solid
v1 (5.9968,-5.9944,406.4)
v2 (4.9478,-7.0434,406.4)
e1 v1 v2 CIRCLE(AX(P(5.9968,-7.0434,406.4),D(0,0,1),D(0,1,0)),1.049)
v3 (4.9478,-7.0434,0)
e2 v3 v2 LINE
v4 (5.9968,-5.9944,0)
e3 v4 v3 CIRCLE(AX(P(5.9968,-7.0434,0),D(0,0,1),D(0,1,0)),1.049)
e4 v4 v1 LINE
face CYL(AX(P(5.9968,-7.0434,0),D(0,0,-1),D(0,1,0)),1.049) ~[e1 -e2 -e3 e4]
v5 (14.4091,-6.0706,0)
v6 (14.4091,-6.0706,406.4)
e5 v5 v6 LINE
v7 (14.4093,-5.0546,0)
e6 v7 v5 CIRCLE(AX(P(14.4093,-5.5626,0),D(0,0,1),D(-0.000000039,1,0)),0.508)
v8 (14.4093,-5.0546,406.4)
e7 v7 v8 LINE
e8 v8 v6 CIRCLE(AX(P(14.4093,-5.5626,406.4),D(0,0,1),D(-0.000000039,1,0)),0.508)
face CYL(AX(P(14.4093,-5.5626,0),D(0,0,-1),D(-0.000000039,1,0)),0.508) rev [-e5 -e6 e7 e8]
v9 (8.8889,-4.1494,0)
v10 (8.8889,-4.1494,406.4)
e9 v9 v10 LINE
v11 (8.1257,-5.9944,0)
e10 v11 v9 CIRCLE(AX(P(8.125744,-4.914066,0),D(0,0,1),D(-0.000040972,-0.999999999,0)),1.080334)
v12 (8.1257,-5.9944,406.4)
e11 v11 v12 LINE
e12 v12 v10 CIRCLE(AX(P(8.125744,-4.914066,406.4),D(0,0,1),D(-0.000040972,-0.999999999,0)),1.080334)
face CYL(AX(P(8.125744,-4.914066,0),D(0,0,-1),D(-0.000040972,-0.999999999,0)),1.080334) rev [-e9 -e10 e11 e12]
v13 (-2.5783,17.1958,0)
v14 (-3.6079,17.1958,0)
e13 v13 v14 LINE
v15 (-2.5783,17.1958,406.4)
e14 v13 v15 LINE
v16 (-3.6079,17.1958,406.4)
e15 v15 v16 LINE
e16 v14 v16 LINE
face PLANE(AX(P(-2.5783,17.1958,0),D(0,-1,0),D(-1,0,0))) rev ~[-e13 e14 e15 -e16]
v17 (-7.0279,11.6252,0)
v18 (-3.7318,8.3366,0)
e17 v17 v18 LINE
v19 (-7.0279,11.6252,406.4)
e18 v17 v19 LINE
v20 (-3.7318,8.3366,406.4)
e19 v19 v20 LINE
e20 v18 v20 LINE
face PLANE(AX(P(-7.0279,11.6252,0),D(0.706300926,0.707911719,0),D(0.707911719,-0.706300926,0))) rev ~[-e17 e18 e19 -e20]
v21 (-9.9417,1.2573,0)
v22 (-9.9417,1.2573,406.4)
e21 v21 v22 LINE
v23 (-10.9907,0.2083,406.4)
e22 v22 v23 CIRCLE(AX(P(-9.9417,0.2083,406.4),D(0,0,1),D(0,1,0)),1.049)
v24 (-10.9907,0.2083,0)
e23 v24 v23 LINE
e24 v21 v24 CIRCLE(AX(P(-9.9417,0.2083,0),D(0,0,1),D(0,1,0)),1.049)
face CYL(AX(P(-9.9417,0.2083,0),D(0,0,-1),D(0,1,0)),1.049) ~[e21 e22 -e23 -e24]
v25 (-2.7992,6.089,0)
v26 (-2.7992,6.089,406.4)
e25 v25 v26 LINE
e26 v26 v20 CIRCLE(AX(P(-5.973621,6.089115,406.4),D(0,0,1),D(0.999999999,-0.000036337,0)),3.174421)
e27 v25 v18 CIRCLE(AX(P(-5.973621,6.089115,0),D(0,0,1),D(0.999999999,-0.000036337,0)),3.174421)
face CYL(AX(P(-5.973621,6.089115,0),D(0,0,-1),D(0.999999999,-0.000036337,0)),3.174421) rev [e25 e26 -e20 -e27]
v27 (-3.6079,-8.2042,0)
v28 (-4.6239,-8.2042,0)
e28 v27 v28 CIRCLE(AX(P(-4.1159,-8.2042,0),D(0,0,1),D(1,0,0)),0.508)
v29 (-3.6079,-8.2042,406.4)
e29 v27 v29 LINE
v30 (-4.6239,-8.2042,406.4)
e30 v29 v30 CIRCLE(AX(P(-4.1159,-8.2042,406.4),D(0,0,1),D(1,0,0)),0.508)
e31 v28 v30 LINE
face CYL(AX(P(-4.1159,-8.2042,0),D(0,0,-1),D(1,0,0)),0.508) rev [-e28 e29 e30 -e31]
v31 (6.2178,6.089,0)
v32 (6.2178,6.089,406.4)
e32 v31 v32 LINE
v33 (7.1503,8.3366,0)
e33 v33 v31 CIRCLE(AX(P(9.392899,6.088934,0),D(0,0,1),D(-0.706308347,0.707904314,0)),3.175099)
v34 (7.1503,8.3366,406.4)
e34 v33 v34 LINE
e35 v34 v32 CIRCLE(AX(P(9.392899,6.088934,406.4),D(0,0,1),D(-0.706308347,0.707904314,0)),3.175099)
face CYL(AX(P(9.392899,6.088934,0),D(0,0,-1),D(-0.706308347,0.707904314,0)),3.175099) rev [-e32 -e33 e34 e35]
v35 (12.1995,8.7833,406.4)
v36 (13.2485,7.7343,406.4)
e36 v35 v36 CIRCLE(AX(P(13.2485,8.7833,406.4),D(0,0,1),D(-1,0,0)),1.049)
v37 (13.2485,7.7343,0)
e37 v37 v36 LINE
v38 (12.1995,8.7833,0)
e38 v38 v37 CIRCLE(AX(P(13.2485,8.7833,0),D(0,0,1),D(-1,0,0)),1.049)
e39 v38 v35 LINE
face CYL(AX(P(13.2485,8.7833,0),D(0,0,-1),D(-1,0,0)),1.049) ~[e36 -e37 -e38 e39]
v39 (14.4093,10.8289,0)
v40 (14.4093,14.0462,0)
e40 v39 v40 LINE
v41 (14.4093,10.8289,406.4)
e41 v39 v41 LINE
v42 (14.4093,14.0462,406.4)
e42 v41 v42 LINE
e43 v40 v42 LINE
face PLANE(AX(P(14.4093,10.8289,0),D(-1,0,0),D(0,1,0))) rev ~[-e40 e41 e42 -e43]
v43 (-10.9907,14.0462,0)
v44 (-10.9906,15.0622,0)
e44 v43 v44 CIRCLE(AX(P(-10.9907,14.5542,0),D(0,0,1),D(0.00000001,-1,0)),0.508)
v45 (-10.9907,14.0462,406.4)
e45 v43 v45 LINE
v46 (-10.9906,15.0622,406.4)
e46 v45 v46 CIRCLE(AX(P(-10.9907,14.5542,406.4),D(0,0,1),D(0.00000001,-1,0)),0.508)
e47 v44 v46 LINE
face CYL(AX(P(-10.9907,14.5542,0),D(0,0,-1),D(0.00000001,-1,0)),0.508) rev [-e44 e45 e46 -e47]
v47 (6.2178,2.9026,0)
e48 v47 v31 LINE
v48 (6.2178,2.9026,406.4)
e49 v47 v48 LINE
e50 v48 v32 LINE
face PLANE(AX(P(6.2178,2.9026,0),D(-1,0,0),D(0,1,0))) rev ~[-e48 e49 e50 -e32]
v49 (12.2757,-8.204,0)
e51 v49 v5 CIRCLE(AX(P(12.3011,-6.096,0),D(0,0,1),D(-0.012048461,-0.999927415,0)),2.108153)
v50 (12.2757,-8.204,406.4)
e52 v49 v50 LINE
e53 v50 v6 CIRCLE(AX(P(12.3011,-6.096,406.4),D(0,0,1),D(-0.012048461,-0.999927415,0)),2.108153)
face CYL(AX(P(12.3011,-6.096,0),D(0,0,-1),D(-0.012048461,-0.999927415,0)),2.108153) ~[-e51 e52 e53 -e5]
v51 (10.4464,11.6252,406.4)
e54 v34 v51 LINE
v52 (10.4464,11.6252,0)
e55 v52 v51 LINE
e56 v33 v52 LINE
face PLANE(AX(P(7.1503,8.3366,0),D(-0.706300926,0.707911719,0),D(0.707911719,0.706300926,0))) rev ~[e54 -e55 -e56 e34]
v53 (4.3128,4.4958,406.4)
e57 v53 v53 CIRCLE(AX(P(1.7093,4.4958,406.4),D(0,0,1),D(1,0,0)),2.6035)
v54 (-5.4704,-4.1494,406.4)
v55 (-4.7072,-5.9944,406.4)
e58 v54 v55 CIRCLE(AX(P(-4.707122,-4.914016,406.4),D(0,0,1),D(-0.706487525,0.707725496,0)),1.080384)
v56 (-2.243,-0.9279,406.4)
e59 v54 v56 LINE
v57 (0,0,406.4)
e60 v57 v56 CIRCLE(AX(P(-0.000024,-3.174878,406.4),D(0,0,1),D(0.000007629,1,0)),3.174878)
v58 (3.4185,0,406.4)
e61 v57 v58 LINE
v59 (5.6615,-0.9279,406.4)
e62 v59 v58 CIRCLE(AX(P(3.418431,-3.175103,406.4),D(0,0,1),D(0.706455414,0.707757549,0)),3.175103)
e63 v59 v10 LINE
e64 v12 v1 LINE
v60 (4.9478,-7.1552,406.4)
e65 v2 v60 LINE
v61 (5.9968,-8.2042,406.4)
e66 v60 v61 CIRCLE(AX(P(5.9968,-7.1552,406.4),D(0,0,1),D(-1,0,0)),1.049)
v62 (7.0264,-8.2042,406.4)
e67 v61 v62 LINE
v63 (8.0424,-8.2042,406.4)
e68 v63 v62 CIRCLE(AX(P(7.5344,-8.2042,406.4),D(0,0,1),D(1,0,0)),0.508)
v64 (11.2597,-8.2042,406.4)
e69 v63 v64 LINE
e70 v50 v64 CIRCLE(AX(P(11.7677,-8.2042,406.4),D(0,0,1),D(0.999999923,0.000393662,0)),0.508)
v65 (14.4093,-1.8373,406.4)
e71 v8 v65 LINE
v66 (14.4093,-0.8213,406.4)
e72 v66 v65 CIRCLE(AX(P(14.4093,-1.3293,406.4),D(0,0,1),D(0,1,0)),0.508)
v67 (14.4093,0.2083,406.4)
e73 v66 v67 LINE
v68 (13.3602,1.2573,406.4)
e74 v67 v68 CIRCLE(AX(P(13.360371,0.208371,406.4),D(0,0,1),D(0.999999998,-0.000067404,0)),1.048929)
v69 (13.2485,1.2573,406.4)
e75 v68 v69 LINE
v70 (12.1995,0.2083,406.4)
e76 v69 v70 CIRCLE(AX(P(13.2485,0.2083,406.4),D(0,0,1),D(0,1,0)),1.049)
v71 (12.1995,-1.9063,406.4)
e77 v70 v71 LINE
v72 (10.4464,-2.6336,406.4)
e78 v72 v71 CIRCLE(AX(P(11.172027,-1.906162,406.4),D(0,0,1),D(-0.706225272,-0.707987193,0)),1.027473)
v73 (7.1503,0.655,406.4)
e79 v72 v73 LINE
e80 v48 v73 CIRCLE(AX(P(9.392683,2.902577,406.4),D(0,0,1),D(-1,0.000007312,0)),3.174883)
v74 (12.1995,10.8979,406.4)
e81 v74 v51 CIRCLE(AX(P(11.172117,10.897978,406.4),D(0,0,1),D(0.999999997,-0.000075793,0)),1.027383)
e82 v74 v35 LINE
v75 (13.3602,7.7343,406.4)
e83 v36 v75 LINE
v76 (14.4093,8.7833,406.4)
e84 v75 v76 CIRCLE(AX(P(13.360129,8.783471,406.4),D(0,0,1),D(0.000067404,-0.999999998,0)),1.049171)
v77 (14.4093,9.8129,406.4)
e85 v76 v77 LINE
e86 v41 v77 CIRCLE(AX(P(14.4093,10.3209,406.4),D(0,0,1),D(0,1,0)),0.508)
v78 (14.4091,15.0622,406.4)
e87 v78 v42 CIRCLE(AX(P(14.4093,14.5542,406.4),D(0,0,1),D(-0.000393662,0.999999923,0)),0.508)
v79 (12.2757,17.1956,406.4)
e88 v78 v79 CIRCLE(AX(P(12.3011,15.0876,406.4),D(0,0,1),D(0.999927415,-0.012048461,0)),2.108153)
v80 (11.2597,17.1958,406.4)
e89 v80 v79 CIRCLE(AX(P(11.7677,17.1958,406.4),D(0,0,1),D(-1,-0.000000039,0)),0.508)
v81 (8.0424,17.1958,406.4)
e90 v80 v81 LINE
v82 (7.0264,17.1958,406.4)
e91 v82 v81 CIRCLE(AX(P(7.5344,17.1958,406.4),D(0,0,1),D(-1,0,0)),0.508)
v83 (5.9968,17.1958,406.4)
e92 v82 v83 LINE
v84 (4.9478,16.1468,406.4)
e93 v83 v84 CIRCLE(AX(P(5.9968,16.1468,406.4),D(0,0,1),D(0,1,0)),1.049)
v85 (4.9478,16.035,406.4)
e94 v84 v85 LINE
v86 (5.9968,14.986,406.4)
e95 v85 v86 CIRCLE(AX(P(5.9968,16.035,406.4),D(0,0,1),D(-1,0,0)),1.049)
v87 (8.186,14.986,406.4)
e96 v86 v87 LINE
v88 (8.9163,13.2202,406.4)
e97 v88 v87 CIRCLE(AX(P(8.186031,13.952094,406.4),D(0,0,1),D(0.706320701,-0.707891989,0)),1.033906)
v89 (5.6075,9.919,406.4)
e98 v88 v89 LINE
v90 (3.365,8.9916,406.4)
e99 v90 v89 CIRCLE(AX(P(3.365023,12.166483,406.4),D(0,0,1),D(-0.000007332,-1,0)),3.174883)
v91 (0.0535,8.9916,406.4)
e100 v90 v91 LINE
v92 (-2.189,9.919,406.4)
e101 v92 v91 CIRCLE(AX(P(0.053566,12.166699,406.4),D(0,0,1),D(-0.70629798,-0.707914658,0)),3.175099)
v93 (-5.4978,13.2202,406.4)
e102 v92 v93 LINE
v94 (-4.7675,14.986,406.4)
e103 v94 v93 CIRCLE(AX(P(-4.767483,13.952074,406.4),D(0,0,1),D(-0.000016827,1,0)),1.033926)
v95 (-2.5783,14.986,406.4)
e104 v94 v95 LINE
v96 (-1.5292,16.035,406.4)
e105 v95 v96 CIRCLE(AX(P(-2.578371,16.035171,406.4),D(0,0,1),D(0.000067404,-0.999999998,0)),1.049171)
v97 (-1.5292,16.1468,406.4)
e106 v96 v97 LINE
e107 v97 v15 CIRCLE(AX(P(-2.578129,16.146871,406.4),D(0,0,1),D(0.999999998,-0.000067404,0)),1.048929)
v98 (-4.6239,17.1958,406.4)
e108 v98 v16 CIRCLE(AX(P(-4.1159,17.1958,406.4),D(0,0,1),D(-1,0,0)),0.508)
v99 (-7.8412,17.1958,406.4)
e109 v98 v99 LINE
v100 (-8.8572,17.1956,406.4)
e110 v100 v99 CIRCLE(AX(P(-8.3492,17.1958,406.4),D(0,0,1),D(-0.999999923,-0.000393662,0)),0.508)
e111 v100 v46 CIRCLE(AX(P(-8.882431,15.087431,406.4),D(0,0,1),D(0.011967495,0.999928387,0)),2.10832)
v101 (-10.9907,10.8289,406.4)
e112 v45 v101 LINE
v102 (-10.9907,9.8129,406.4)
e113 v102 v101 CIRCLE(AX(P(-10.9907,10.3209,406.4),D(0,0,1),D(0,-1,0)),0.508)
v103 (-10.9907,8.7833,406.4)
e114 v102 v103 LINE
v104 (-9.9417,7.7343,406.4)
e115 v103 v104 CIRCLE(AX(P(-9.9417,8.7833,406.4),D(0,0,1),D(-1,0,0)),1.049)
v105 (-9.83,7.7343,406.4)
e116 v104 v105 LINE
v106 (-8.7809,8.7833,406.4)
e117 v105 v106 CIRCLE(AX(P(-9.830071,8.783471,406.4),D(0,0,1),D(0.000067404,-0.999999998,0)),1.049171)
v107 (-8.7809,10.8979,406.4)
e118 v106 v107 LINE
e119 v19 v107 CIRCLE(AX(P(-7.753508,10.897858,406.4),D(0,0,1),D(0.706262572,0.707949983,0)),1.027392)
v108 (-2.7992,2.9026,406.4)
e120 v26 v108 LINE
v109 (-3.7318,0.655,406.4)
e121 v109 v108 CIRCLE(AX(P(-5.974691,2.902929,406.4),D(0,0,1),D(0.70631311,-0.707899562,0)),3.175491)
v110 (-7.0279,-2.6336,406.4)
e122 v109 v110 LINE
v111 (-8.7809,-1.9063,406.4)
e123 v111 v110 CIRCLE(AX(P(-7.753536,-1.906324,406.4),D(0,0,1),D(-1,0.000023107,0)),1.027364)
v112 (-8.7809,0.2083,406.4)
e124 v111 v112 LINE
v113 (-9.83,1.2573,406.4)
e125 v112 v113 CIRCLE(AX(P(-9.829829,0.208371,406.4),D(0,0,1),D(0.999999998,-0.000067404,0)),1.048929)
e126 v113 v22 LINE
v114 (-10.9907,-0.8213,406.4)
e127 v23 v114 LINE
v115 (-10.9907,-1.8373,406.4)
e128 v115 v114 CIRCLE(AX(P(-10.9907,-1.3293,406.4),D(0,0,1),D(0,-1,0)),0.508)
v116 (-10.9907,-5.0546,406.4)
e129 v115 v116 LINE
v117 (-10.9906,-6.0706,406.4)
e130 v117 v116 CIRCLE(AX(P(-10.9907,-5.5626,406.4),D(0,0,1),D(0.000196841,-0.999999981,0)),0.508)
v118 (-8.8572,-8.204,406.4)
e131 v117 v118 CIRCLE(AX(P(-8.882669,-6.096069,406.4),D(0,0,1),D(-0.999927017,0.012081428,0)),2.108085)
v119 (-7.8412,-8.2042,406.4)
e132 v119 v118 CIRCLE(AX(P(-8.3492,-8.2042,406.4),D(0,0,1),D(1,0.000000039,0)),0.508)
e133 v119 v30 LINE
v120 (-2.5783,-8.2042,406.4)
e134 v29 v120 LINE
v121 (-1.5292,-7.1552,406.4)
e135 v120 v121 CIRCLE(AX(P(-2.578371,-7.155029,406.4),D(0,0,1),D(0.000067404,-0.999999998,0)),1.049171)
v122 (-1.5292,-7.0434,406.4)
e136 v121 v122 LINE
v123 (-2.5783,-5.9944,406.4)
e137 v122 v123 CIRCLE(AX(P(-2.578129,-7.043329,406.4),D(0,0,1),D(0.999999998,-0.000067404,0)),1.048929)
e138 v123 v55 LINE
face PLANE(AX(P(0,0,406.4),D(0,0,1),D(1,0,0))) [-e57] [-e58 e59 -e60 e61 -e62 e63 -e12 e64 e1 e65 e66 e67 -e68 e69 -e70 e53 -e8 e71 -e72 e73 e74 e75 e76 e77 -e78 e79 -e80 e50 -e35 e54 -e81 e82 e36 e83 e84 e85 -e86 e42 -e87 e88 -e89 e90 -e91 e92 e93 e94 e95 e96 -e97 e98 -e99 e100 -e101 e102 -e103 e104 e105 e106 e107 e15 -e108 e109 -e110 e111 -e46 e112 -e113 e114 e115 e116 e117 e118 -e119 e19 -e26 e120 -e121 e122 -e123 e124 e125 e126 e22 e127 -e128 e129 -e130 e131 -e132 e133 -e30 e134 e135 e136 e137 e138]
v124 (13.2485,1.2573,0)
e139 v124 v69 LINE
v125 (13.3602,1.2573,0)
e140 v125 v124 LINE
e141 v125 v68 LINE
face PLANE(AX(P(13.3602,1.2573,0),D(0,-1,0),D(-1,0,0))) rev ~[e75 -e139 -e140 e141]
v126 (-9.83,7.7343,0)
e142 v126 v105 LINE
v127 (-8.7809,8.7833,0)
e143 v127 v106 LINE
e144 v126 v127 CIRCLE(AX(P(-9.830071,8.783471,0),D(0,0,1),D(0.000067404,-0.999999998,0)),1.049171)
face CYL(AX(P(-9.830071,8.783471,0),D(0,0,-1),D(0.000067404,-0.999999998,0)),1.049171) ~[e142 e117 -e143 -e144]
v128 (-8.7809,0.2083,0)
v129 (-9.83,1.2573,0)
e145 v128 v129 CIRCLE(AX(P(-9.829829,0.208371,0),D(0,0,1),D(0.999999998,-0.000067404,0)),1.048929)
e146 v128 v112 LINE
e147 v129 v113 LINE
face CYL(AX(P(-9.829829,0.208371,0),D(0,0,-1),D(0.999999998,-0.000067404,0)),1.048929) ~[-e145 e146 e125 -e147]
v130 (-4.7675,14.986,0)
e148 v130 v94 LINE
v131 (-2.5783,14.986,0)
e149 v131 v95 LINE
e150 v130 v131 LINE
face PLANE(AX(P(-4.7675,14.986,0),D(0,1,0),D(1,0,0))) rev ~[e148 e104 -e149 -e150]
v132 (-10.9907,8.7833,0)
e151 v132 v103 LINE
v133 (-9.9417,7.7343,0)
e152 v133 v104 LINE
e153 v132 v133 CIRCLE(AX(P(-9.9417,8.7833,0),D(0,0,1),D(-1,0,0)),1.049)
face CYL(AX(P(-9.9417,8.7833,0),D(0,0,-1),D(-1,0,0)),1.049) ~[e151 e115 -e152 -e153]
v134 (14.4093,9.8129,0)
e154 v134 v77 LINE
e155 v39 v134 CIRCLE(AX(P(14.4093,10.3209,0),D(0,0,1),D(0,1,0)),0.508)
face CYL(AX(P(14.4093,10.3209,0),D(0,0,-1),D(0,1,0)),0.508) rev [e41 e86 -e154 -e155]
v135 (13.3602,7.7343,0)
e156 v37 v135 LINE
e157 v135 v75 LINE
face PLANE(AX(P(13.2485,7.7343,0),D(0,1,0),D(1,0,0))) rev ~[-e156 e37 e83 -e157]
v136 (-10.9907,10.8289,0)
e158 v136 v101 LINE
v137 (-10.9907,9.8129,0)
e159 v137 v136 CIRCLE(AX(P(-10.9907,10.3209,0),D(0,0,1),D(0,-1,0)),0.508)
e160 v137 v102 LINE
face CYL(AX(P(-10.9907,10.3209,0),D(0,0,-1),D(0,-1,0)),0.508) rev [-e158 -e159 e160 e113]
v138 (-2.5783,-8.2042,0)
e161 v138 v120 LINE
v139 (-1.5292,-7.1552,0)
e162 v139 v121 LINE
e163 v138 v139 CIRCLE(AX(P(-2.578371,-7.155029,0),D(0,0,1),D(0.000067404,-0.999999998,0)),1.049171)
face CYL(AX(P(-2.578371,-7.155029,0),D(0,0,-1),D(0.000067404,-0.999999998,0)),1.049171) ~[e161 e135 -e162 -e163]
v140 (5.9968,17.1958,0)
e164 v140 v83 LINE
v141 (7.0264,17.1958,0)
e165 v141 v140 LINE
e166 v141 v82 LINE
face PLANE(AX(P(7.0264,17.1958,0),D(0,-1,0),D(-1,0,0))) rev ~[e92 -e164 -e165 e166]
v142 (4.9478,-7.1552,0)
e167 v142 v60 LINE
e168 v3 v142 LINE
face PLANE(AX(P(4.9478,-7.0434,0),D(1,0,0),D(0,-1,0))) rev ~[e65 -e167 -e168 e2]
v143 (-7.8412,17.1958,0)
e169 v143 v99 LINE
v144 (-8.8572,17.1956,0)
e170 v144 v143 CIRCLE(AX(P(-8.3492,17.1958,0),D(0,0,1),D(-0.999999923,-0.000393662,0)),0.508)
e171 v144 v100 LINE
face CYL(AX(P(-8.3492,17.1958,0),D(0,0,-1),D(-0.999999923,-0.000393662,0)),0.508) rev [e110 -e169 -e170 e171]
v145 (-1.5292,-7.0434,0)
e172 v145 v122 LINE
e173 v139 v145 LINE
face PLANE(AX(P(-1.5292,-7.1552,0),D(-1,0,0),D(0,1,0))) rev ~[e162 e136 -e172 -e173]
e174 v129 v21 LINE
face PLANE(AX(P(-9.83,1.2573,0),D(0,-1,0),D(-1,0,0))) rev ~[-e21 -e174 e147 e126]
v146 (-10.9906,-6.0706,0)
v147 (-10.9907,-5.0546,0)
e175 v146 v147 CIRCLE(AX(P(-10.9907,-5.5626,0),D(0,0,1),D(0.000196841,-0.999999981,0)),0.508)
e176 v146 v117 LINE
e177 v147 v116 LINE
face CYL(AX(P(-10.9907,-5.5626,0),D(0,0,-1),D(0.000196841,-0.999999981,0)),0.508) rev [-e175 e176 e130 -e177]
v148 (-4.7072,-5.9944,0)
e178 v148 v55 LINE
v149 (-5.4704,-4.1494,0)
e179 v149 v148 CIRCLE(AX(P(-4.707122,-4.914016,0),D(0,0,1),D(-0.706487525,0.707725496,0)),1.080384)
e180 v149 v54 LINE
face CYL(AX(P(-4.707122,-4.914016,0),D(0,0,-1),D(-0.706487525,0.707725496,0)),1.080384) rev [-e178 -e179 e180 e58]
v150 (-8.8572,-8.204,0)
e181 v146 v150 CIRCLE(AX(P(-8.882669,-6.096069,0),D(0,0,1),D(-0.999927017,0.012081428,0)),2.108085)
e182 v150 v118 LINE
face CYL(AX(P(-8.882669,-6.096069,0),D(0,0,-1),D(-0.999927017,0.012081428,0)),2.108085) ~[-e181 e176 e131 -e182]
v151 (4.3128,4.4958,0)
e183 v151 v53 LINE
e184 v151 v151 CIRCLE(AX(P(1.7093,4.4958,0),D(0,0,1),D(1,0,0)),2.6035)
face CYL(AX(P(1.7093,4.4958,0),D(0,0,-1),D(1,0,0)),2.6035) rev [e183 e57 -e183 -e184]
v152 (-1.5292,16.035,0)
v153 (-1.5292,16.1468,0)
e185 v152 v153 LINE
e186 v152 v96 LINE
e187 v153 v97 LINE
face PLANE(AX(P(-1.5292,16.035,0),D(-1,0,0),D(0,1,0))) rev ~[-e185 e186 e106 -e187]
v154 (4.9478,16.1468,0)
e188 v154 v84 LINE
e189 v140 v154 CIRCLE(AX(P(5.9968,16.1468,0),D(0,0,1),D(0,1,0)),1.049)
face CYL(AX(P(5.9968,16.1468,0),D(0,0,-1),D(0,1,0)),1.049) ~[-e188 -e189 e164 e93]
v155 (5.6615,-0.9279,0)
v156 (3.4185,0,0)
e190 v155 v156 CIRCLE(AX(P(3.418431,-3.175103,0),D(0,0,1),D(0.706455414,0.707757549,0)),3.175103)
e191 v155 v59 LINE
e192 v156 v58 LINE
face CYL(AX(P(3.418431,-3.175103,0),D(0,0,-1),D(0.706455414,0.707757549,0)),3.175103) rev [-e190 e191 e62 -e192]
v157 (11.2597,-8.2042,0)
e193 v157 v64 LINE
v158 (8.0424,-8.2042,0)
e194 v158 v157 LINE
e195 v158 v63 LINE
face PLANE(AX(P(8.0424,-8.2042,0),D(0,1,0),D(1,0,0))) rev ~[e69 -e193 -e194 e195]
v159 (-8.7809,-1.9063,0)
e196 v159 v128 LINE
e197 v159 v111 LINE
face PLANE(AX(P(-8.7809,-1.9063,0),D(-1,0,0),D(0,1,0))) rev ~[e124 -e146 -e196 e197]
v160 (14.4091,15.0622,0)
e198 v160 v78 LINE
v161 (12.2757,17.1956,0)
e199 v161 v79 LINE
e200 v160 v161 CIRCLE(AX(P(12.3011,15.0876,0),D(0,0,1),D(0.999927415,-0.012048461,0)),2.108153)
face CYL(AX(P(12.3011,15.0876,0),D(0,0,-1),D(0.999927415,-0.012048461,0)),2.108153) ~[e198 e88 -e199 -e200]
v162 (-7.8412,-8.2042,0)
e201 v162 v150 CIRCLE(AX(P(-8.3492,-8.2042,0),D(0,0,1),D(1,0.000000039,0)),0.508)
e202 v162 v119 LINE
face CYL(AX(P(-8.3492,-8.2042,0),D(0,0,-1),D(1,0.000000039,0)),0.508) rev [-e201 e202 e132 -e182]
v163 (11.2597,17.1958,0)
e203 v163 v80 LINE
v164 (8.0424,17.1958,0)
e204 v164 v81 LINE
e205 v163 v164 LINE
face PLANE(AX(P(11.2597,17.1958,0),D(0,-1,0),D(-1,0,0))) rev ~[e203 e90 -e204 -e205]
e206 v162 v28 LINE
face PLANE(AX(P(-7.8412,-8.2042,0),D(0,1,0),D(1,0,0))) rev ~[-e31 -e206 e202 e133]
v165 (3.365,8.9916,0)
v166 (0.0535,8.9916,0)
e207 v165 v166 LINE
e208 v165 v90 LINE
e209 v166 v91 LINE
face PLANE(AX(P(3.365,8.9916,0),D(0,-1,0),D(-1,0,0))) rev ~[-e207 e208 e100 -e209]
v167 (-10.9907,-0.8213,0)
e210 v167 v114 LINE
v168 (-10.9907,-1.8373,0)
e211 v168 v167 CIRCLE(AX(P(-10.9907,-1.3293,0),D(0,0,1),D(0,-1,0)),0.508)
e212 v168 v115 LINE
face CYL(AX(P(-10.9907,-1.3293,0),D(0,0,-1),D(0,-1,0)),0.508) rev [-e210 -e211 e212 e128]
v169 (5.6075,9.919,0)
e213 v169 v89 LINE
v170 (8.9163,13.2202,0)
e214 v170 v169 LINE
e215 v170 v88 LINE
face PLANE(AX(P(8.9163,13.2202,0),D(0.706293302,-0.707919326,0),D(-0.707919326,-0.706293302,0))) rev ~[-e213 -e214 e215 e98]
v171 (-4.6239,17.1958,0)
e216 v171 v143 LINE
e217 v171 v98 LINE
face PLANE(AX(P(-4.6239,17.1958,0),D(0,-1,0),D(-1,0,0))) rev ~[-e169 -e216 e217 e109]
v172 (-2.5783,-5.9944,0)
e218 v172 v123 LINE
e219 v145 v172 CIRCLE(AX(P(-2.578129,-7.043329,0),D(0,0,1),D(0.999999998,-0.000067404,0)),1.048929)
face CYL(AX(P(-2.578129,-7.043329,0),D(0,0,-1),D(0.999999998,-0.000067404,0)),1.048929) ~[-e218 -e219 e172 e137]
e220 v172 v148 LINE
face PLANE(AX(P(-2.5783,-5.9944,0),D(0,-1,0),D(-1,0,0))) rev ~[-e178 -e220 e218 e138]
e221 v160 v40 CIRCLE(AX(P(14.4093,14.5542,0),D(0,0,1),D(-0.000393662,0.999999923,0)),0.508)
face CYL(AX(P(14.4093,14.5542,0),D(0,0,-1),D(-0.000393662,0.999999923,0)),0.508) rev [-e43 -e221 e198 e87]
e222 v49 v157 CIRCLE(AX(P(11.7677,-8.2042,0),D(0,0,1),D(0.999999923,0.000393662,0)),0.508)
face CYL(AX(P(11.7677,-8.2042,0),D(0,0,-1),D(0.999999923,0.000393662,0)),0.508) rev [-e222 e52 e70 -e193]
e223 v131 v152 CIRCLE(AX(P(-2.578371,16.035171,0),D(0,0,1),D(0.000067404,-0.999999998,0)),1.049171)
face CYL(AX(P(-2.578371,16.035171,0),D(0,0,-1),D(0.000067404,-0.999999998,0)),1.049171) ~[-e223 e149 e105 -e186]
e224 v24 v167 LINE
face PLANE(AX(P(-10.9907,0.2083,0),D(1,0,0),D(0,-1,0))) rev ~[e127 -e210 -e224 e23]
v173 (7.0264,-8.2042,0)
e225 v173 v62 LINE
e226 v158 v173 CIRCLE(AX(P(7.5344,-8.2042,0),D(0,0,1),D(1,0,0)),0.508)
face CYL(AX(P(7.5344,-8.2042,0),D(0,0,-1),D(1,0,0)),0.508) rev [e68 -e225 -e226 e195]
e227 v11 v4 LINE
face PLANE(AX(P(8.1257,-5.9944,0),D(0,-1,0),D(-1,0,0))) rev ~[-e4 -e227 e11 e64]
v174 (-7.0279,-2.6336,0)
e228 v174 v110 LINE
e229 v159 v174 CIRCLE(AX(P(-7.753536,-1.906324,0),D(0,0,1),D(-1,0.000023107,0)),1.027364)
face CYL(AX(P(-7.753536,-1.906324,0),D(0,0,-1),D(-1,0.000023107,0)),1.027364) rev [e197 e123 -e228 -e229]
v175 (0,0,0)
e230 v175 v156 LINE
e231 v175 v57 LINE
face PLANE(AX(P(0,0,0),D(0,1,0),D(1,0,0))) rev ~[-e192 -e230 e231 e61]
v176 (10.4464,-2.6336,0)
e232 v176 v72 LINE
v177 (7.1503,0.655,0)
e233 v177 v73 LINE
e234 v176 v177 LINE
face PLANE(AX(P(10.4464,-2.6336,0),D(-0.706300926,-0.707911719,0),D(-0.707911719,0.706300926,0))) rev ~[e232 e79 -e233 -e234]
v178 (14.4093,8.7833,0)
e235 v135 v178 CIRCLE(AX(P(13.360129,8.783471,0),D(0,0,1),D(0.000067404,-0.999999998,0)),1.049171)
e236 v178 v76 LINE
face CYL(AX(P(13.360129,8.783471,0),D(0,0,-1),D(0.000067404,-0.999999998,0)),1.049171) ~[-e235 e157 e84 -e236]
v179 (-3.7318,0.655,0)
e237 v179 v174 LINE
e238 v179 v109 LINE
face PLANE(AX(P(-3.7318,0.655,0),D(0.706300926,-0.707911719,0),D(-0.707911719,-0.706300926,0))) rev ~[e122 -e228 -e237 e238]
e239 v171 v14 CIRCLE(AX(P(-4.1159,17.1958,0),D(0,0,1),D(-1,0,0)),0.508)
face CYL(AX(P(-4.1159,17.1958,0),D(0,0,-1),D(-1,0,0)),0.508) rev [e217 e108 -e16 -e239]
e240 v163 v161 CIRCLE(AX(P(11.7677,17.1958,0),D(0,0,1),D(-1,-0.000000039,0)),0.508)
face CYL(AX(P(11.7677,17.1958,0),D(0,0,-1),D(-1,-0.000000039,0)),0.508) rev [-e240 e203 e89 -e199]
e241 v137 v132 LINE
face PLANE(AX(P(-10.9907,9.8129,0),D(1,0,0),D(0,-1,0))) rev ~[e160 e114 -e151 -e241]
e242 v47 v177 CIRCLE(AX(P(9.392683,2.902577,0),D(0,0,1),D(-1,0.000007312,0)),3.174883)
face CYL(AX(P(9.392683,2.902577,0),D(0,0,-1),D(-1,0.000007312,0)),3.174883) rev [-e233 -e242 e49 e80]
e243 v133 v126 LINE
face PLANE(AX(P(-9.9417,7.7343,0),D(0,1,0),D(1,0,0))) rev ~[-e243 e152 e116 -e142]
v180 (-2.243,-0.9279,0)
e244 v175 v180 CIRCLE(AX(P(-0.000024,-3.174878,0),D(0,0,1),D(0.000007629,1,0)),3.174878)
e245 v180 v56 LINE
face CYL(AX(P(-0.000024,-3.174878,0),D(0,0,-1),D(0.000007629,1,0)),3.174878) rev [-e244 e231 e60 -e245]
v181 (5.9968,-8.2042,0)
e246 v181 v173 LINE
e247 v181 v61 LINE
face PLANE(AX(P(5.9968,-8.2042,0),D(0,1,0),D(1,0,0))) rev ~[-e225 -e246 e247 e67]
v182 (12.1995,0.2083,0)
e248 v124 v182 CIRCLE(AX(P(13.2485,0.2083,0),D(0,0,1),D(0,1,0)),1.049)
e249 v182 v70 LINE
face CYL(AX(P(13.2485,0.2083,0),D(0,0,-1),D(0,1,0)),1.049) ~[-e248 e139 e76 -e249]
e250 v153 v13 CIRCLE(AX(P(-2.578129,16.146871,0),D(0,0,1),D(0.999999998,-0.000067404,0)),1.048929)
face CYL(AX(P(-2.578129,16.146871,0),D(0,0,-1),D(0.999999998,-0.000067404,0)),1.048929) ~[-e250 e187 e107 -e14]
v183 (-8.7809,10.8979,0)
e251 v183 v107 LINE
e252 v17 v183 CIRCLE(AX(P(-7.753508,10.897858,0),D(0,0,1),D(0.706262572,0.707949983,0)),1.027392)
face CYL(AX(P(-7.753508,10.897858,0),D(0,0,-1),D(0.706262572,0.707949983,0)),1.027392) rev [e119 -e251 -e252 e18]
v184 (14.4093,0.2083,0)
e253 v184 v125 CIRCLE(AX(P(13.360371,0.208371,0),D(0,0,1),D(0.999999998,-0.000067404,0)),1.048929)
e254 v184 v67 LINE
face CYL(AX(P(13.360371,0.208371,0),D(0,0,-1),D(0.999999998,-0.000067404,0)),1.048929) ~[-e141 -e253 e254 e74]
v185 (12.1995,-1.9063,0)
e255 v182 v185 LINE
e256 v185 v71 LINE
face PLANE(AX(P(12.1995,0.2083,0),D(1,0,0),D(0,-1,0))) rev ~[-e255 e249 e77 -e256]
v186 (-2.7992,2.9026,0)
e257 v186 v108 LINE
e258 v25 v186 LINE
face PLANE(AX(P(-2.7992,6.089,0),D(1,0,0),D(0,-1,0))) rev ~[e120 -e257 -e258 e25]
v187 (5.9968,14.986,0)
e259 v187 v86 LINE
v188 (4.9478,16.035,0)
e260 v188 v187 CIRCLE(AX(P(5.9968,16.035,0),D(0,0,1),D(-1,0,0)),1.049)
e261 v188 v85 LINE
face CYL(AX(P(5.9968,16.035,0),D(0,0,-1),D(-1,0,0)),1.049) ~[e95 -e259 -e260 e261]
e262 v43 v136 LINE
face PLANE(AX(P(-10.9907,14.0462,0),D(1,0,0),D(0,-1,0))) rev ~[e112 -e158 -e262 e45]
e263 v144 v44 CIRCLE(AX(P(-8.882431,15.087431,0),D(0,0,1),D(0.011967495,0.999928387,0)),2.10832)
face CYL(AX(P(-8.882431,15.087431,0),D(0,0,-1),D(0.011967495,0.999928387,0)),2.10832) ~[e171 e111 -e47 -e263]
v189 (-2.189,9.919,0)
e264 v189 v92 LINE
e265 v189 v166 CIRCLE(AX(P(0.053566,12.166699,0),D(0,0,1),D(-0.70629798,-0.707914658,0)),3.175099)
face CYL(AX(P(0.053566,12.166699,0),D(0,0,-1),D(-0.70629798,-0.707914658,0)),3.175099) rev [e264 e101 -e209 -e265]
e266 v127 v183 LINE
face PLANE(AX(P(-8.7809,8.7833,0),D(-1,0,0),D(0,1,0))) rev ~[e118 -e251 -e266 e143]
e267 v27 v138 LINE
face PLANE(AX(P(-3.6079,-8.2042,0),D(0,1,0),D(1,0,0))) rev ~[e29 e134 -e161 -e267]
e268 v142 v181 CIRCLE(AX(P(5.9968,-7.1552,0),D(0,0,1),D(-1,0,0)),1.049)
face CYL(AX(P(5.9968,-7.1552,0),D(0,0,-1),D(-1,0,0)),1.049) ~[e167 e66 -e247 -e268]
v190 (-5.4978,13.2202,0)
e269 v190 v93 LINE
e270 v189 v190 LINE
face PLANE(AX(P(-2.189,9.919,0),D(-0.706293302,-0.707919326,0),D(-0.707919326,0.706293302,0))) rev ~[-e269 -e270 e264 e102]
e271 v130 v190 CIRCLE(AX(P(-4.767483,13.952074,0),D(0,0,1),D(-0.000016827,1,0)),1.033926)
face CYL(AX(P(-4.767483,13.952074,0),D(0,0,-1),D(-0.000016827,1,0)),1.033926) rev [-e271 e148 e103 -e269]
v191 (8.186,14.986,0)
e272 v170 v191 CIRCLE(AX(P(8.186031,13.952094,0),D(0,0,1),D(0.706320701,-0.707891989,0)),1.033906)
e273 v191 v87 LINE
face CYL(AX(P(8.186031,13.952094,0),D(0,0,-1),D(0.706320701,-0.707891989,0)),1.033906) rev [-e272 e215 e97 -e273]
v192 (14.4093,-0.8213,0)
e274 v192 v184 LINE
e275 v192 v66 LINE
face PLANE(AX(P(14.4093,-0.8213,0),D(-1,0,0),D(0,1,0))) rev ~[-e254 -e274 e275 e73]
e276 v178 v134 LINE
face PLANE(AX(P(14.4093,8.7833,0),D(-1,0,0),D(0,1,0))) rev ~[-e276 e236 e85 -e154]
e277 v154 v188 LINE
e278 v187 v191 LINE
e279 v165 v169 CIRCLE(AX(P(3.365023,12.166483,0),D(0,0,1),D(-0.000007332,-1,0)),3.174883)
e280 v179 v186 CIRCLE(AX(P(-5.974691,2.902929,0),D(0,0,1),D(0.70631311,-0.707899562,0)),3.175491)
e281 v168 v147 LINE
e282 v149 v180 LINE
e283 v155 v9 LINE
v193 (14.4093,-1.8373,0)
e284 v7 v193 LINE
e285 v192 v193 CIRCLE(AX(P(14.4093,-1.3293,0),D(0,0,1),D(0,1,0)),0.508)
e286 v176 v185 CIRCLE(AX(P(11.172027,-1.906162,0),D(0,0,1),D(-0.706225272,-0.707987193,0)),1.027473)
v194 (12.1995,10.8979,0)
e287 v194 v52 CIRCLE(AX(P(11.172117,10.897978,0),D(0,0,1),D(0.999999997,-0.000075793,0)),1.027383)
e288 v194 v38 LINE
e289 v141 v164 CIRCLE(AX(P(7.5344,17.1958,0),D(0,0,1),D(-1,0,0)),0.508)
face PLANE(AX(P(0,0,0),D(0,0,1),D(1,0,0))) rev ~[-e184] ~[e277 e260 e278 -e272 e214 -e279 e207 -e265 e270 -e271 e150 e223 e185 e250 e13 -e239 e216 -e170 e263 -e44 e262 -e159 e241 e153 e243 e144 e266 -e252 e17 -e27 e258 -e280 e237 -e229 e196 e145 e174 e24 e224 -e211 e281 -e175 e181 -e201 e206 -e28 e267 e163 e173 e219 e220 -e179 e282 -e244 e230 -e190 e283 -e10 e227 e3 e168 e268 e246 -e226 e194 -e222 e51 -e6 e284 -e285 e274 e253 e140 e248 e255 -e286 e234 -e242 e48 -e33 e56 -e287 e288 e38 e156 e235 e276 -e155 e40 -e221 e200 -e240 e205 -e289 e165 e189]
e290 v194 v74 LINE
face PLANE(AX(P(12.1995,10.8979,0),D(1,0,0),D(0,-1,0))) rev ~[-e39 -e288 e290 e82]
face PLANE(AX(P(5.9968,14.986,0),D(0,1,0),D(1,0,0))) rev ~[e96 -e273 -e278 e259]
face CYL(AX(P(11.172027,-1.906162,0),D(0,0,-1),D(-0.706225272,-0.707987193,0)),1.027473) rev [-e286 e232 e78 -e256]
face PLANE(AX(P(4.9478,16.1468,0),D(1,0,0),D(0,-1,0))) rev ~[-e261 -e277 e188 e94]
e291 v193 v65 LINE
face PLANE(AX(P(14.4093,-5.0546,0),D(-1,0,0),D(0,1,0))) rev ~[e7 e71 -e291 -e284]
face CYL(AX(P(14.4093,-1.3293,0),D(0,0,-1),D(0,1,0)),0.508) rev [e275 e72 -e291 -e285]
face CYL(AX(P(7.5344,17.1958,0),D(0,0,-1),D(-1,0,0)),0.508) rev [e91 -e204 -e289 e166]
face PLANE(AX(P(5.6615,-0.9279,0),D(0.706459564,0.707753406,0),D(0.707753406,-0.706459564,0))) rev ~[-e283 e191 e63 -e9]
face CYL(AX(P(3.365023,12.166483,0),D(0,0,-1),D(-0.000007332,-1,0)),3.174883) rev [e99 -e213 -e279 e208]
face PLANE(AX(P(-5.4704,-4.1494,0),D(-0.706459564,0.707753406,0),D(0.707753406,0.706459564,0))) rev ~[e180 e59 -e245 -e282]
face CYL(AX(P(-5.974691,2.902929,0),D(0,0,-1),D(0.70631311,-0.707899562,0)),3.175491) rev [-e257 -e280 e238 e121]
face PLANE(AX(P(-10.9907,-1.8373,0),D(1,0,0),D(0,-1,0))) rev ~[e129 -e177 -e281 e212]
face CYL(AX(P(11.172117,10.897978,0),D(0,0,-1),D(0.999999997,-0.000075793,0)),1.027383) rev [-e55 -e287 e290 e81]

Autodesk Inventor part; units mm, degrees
ref_plane "YZ Plane" through (0, 0, 0) normal (1, 0, 0) x (0, 1, 0)
ref_plane "XZ Plane" through (0, 0, 0) normal (0, 1, 0) x (-1, 0, 0)
ref_plane "XY Plane" through (0, 0, 0) normal (0, 0, 1) x (1, 0, 0)
sketch "Sketch1" plane through (0, 0, 0) normal (0, 0, 1) x (1, 0, 0)
  arc A0 (-5.4704, -4.1494) -> (-4.7072, -5.9944) centre (-4.7072, -4.914) ccw
  line L0 (-5.4704, -4.1494) -> (-2.243, -0.9279)
  arc A1 (0, 0) -> (-2.243, -0.9279) centre (0, -3.175) ccw
  line L1 (0, 0) -> (3.4185, 0)
  arc A2 (5.6615, -0.9279) -> (3.4185, 0) centre (3.4185, -3.175) ccw
  line L2 (5.6615, -0.9279) -> (8.8889, -4.1494)
  arc A3 (8.1257, -5.9944) -> (8.8889, -4.1494) centre (8.1257, -4.914) ccw
  line L3 (8.1257, -5.9944) -> (5.9968, -5.9944)
  arc A4 (5.9968, -5.9944) -> (4.9478, -7.0434) centre (5.9968, -7.0434) ccw
  line L4 (4.9478, -7.0434) -> (4.9478, -7.1552)
  arc A5 (4.9478, -7.1552) -> (5.9968, -8.2042) centre (5.9968, -7.1552) ccw
  line L5 (5.9968, -8.2042) -> (7.0264, -8.2042)
  arc A6 (8.0424, -8.2042) -> (7.0264, -8.2042) centre (7.5344, -8.2042) ccw
  line L6 (8.0424, -8.2042) -> (11.2597, -8.2042)
  arc A7 (12.2757, -8.204) -> (11.2597, -8.2042) centre (11.7677, -8.2042) ccw
  arc A8 (12.2757, -8.204) -> (14.4091, -6.0706) centre (12.3011, -6.096) ccw
  arc A9 (14.4093, -5.0546) -> (14.4091, -6.0706) centre (14.4093, -5.5626) ccw
  line L7 (14.4093, -5.0546) -> (14.4093, -1.8373)
  arc A10 (14.4093, -0.8213) -> (14.4093, -1.8373) centre (14.4093, -1.3293) ccw
  line L8 (14.4093, -0.8213) -> (14.4093, 0.2083)
  arc A11 (14.4093, 0.2083) -> (13.3602, 1.2573) centre (13.3602, 0.2083) ccw
  line L9 (13.3602, 1.2573) -> (13.2485, 1.2573)
  arc A12 (13.2485, 1.2573) -> (12.1995, 0.2083) centre (13.2485, 0.2083) ccw
  line L10 (12.1995, 0.2083) -> (12.1995, -1.9063)
  arc A13 (10.4464, -2.6336) -> (12.1995, -1.9063) centre (11.172, -1.9063) ccw
  line L11 (10.4464, -2.6336) -> (7.1503, 0.655)
  arc A14 (6.2178, 2.9026) -> (7.1503, 0.655) centre (9.3928, 2.9026) ccw
  line L12 (6.2178, 2.9026) -> (6.2178, 6.089)
  arc A15 (7.1503, 8.3366) -> (6.2178, 6.089) centre (9.3928, 6.089) ccw
  line L13 (7.1503, 8.3366) -> (10.4464, 11.6252)
  arc A16 (12.1995, 10.8979) -> (10.4464, 11.6252) centre (11.172, 10.8979) ccw
  line L14 (12.1995, 10.8979) -> (12.1995, 8.7833)
  arc A17 (12.1995, 8.7833) -> (13.2485, 7.7343) centre (13.2485, 8.7833) ccw
  line L15 (13.2485, 7.7343) -> (13.3602, 7.7343)
  arc A18 (13.3602, 7.7343) -> (14.4093, 8.7833) centre (13.3602, 8.7833) ccw
  line L16 (14.4093, 8.7833) -> (14.4093, 9.8129)
  arc A19 (14.4093, 10.8289) -> (14.4093, 9.8129) centre (14.4093, 10.3209) ccw
  line L17 (14.4093, 10.8289) -> (14.4093, 14.0462)
  arc A20 (14.4091, 15.0622) -> (14.4093, 14.0462) centre (14.4093, 14.5542) ccw
  arc A21 (14.4091, 15.0622) -> (12.2757, 17.1956) centre (12.3011, 15.0876) ccw
  arc A22 (11.2597, 17.1958) -> (12.2757, 17.1956) centre (11.7677, 17.1958) ccw
  line L18 (11.2597, 17.1958) -> (8.0424, 17.1958)
  arc A23 (7.0264, 17.1958) -> (8.0424, 17.1958) centre (7.5344, 17.1958) ccw
  line L19 (7.0264, 17.1958) -> (5.9968, 17.1958)
  arc A24 (5.9968, 17.1958) -> (4.9478, 16.1468) centre (5.9968, 16.1468) ccw
  line L20 (4.9478, 16.1468) -> (4.9478, 16.035)
  arc A25 (4.9478, 16.035) -> (5.9968, 14.986) centre (5.9968, 16.035) ccw
  line L21 (5.9968, 14.986) -> (8.186, 14.986)
  arc A26 (8.9163, 13.2202) -> (8.186, 14.986) centre (8.186, 13.9521) ccw
  line L22 (8.9163, 13.2202) -> (5.6075, 9.919)
  arc A27 (3.365, 8.9916) -> (5.6075, 9.919) centre (3.365, 12.1666) ccw
  line L23 (3.365, 8.9916) -> (0.0535, 8.9916)
  arc A28 (-2.189, 9.919) -> (0.0535, 8.9916) centre (0.0535, 12.1666) ccw
  line L24 (-2.189, 9.919) -> (-5.4978, 13.2202)
  arc A29 (-4.7675, 14.986) -> (-5.4978, 13.2202) centre (-4.7675, 13.9521) ccw
  line L25 (-4.7675, 14.986) -> (-2.5783, 14.986)
  arc A30 (-2.5783, 14.986) -> (-1.5292, 16.035) centre (-2.5783, 16.035) ccw
  line L26 (-1.5292, 16.035) -> (-1.5292, 16.1468)
  arc A31 (-1.5292, 16.1468) -> (-2.5783, 17.1958) centre (-2.5783, 16.1468) ccw
  line L27 (-2.5783, 17.1958) -> (-3.6079, 17.1958)
  arc A32 (-4.6239, 17.1958) -> (-3.6079, 17.1958) centre (-4.1159, 17.1958) ccw
  line L28 (-4.6239, 17.1958) -> (-7.8412, 17.1958)
  arc A33 (-8.8572, 17.1956) -> (-7.8412, 17.1958) centre (-8.3492, 17.1958) ccw
  arc A34 (-8.8572, 17.1956) -> (-10.9906, 15.0622) centre (-8.8825, 15.0876) ccw
  arc A35 (-10.9907, 14.0462) -> (-10.9906, 15.0622) centre (-10.9907, 14.5542) ccw
  line L29 (-10.9907, 14.0462) -> (-10.9907, 10.8289)
  arc A36 (-10.9907, 9.8129) -> (-10.9907, 10.8289) centre (-10.9907, 10.3209) ccw
  line L30 (-10.9907, 9.8129) -> (-10.9907, 8.7833)
  arc A37 (-10.9907, 8.7833) -> (-9.9417, 7.7343) centre (-9.9417, 8.7833) ccw
  line L31 (-9.9417, 7.7343) -> (-9.83, 7.7343)
  arc A38 (-9.83, 7.7343) -> (-8.7809, 8.7833) centre (-9.83, 8.7833) ccw
  line L32 (-8.7809, 8.7833) -> (-8.7809, 10.8979)
  arc A39 (-7.0279, 11.6252) -> (-8.7809, 10.8979) centre (-7.7535, 10.8979) ccw
  line L33 (-7.0279, 11.6252) -> (-3.7318, 8.3366)
  arc A40 (-2.7992, 6.089) -> (-3.7318, 8.3366) centre (-5.9742, 6.089) ccw
  line L34 (-2.7992, 6.089) -> (-2.7992, 2.9026)
  arc A41 (-3.7318, 0.655) -> (-2.7992, 2.9026) centre (-5.9742, 2.9026) ccw
  line L35 (-3.7318, 0.655) -> (-7.0279, -2.6336)
  arc A42 (-8.7809, -1.9063) -> (-7.0279, -2.6336) centre (-7.7535, -1.9063) ccw
  line L36 (-8.7809, -1.9063) -> (-8.7809, 0.2083)
  arc A43 (-8.7809, 0.2083) -> (-9.83, 1.2573) centre (-9.83, 0.2083) ccw
  line L37 (-9.83, 1.2573) -> (-9.9417, 1.2573)
  arc A44 (-9.9417, 1.2573) -> (-10.9907, 0.2083) centre (-9.9417, 0.2083) ccw
  line L38 (-10.9907, 0.2083) -> (-10.9907, -0.8213)
  arc A45 (-10.9907, -1.8373) -> (-10.9907, -0.8213) centre (-10.9907, -1.3293) ccw
  line L39 (-10.9907, -1.8373) -> (-10.9907, -5.0546)
  arc A46 (-10.9906, -6.0706) -> (-10.9907, -5.0546) centre (-10.9907, -5.5626) ccw
  arc A47 (-10.9906, -6.0706) -> (-8.8572, -8.204) centre (-8.8825, -6.096) ccw
  arc A48 (-7.8412, -8.2042) -> (-8.8572, -8.204) centre (-8.3492, -8.2042) ccw
  line L40 (-7.8412, -8.2042) -> (-4.6239, -8.2042)
  arc A49 (-3.6079, -8.2042) -> (-4.6239, -8.2042) centre (-4.1159, -8.2042) ccw
  line L41 (-3.6079, -8.2042) -> (-2.5783, -8.2042)
  arc A50 (-2.5783, -8.2042) -> (-1.5292, -7.1552) centre (-2.5783, -7.1552) ccw
  line L42 (-1.5292, -7.1552) -> (-1.5292, -7.0434)
  arc A51 (-1.5292, -7.0434) -> (-2.5783, -5.9944) centre (-2.5783, -7.0434) ccw
  line L43 (-2.5783, -5.9944) -> (-4.7072, -5.9944)
  circle A52 centre (1.7093, 4.4958) radius 2.6035
extrude "Extrusion1" add sketch "Sketch1" along normal blind 406.4
properties part number "16in 1x1 T slot"
